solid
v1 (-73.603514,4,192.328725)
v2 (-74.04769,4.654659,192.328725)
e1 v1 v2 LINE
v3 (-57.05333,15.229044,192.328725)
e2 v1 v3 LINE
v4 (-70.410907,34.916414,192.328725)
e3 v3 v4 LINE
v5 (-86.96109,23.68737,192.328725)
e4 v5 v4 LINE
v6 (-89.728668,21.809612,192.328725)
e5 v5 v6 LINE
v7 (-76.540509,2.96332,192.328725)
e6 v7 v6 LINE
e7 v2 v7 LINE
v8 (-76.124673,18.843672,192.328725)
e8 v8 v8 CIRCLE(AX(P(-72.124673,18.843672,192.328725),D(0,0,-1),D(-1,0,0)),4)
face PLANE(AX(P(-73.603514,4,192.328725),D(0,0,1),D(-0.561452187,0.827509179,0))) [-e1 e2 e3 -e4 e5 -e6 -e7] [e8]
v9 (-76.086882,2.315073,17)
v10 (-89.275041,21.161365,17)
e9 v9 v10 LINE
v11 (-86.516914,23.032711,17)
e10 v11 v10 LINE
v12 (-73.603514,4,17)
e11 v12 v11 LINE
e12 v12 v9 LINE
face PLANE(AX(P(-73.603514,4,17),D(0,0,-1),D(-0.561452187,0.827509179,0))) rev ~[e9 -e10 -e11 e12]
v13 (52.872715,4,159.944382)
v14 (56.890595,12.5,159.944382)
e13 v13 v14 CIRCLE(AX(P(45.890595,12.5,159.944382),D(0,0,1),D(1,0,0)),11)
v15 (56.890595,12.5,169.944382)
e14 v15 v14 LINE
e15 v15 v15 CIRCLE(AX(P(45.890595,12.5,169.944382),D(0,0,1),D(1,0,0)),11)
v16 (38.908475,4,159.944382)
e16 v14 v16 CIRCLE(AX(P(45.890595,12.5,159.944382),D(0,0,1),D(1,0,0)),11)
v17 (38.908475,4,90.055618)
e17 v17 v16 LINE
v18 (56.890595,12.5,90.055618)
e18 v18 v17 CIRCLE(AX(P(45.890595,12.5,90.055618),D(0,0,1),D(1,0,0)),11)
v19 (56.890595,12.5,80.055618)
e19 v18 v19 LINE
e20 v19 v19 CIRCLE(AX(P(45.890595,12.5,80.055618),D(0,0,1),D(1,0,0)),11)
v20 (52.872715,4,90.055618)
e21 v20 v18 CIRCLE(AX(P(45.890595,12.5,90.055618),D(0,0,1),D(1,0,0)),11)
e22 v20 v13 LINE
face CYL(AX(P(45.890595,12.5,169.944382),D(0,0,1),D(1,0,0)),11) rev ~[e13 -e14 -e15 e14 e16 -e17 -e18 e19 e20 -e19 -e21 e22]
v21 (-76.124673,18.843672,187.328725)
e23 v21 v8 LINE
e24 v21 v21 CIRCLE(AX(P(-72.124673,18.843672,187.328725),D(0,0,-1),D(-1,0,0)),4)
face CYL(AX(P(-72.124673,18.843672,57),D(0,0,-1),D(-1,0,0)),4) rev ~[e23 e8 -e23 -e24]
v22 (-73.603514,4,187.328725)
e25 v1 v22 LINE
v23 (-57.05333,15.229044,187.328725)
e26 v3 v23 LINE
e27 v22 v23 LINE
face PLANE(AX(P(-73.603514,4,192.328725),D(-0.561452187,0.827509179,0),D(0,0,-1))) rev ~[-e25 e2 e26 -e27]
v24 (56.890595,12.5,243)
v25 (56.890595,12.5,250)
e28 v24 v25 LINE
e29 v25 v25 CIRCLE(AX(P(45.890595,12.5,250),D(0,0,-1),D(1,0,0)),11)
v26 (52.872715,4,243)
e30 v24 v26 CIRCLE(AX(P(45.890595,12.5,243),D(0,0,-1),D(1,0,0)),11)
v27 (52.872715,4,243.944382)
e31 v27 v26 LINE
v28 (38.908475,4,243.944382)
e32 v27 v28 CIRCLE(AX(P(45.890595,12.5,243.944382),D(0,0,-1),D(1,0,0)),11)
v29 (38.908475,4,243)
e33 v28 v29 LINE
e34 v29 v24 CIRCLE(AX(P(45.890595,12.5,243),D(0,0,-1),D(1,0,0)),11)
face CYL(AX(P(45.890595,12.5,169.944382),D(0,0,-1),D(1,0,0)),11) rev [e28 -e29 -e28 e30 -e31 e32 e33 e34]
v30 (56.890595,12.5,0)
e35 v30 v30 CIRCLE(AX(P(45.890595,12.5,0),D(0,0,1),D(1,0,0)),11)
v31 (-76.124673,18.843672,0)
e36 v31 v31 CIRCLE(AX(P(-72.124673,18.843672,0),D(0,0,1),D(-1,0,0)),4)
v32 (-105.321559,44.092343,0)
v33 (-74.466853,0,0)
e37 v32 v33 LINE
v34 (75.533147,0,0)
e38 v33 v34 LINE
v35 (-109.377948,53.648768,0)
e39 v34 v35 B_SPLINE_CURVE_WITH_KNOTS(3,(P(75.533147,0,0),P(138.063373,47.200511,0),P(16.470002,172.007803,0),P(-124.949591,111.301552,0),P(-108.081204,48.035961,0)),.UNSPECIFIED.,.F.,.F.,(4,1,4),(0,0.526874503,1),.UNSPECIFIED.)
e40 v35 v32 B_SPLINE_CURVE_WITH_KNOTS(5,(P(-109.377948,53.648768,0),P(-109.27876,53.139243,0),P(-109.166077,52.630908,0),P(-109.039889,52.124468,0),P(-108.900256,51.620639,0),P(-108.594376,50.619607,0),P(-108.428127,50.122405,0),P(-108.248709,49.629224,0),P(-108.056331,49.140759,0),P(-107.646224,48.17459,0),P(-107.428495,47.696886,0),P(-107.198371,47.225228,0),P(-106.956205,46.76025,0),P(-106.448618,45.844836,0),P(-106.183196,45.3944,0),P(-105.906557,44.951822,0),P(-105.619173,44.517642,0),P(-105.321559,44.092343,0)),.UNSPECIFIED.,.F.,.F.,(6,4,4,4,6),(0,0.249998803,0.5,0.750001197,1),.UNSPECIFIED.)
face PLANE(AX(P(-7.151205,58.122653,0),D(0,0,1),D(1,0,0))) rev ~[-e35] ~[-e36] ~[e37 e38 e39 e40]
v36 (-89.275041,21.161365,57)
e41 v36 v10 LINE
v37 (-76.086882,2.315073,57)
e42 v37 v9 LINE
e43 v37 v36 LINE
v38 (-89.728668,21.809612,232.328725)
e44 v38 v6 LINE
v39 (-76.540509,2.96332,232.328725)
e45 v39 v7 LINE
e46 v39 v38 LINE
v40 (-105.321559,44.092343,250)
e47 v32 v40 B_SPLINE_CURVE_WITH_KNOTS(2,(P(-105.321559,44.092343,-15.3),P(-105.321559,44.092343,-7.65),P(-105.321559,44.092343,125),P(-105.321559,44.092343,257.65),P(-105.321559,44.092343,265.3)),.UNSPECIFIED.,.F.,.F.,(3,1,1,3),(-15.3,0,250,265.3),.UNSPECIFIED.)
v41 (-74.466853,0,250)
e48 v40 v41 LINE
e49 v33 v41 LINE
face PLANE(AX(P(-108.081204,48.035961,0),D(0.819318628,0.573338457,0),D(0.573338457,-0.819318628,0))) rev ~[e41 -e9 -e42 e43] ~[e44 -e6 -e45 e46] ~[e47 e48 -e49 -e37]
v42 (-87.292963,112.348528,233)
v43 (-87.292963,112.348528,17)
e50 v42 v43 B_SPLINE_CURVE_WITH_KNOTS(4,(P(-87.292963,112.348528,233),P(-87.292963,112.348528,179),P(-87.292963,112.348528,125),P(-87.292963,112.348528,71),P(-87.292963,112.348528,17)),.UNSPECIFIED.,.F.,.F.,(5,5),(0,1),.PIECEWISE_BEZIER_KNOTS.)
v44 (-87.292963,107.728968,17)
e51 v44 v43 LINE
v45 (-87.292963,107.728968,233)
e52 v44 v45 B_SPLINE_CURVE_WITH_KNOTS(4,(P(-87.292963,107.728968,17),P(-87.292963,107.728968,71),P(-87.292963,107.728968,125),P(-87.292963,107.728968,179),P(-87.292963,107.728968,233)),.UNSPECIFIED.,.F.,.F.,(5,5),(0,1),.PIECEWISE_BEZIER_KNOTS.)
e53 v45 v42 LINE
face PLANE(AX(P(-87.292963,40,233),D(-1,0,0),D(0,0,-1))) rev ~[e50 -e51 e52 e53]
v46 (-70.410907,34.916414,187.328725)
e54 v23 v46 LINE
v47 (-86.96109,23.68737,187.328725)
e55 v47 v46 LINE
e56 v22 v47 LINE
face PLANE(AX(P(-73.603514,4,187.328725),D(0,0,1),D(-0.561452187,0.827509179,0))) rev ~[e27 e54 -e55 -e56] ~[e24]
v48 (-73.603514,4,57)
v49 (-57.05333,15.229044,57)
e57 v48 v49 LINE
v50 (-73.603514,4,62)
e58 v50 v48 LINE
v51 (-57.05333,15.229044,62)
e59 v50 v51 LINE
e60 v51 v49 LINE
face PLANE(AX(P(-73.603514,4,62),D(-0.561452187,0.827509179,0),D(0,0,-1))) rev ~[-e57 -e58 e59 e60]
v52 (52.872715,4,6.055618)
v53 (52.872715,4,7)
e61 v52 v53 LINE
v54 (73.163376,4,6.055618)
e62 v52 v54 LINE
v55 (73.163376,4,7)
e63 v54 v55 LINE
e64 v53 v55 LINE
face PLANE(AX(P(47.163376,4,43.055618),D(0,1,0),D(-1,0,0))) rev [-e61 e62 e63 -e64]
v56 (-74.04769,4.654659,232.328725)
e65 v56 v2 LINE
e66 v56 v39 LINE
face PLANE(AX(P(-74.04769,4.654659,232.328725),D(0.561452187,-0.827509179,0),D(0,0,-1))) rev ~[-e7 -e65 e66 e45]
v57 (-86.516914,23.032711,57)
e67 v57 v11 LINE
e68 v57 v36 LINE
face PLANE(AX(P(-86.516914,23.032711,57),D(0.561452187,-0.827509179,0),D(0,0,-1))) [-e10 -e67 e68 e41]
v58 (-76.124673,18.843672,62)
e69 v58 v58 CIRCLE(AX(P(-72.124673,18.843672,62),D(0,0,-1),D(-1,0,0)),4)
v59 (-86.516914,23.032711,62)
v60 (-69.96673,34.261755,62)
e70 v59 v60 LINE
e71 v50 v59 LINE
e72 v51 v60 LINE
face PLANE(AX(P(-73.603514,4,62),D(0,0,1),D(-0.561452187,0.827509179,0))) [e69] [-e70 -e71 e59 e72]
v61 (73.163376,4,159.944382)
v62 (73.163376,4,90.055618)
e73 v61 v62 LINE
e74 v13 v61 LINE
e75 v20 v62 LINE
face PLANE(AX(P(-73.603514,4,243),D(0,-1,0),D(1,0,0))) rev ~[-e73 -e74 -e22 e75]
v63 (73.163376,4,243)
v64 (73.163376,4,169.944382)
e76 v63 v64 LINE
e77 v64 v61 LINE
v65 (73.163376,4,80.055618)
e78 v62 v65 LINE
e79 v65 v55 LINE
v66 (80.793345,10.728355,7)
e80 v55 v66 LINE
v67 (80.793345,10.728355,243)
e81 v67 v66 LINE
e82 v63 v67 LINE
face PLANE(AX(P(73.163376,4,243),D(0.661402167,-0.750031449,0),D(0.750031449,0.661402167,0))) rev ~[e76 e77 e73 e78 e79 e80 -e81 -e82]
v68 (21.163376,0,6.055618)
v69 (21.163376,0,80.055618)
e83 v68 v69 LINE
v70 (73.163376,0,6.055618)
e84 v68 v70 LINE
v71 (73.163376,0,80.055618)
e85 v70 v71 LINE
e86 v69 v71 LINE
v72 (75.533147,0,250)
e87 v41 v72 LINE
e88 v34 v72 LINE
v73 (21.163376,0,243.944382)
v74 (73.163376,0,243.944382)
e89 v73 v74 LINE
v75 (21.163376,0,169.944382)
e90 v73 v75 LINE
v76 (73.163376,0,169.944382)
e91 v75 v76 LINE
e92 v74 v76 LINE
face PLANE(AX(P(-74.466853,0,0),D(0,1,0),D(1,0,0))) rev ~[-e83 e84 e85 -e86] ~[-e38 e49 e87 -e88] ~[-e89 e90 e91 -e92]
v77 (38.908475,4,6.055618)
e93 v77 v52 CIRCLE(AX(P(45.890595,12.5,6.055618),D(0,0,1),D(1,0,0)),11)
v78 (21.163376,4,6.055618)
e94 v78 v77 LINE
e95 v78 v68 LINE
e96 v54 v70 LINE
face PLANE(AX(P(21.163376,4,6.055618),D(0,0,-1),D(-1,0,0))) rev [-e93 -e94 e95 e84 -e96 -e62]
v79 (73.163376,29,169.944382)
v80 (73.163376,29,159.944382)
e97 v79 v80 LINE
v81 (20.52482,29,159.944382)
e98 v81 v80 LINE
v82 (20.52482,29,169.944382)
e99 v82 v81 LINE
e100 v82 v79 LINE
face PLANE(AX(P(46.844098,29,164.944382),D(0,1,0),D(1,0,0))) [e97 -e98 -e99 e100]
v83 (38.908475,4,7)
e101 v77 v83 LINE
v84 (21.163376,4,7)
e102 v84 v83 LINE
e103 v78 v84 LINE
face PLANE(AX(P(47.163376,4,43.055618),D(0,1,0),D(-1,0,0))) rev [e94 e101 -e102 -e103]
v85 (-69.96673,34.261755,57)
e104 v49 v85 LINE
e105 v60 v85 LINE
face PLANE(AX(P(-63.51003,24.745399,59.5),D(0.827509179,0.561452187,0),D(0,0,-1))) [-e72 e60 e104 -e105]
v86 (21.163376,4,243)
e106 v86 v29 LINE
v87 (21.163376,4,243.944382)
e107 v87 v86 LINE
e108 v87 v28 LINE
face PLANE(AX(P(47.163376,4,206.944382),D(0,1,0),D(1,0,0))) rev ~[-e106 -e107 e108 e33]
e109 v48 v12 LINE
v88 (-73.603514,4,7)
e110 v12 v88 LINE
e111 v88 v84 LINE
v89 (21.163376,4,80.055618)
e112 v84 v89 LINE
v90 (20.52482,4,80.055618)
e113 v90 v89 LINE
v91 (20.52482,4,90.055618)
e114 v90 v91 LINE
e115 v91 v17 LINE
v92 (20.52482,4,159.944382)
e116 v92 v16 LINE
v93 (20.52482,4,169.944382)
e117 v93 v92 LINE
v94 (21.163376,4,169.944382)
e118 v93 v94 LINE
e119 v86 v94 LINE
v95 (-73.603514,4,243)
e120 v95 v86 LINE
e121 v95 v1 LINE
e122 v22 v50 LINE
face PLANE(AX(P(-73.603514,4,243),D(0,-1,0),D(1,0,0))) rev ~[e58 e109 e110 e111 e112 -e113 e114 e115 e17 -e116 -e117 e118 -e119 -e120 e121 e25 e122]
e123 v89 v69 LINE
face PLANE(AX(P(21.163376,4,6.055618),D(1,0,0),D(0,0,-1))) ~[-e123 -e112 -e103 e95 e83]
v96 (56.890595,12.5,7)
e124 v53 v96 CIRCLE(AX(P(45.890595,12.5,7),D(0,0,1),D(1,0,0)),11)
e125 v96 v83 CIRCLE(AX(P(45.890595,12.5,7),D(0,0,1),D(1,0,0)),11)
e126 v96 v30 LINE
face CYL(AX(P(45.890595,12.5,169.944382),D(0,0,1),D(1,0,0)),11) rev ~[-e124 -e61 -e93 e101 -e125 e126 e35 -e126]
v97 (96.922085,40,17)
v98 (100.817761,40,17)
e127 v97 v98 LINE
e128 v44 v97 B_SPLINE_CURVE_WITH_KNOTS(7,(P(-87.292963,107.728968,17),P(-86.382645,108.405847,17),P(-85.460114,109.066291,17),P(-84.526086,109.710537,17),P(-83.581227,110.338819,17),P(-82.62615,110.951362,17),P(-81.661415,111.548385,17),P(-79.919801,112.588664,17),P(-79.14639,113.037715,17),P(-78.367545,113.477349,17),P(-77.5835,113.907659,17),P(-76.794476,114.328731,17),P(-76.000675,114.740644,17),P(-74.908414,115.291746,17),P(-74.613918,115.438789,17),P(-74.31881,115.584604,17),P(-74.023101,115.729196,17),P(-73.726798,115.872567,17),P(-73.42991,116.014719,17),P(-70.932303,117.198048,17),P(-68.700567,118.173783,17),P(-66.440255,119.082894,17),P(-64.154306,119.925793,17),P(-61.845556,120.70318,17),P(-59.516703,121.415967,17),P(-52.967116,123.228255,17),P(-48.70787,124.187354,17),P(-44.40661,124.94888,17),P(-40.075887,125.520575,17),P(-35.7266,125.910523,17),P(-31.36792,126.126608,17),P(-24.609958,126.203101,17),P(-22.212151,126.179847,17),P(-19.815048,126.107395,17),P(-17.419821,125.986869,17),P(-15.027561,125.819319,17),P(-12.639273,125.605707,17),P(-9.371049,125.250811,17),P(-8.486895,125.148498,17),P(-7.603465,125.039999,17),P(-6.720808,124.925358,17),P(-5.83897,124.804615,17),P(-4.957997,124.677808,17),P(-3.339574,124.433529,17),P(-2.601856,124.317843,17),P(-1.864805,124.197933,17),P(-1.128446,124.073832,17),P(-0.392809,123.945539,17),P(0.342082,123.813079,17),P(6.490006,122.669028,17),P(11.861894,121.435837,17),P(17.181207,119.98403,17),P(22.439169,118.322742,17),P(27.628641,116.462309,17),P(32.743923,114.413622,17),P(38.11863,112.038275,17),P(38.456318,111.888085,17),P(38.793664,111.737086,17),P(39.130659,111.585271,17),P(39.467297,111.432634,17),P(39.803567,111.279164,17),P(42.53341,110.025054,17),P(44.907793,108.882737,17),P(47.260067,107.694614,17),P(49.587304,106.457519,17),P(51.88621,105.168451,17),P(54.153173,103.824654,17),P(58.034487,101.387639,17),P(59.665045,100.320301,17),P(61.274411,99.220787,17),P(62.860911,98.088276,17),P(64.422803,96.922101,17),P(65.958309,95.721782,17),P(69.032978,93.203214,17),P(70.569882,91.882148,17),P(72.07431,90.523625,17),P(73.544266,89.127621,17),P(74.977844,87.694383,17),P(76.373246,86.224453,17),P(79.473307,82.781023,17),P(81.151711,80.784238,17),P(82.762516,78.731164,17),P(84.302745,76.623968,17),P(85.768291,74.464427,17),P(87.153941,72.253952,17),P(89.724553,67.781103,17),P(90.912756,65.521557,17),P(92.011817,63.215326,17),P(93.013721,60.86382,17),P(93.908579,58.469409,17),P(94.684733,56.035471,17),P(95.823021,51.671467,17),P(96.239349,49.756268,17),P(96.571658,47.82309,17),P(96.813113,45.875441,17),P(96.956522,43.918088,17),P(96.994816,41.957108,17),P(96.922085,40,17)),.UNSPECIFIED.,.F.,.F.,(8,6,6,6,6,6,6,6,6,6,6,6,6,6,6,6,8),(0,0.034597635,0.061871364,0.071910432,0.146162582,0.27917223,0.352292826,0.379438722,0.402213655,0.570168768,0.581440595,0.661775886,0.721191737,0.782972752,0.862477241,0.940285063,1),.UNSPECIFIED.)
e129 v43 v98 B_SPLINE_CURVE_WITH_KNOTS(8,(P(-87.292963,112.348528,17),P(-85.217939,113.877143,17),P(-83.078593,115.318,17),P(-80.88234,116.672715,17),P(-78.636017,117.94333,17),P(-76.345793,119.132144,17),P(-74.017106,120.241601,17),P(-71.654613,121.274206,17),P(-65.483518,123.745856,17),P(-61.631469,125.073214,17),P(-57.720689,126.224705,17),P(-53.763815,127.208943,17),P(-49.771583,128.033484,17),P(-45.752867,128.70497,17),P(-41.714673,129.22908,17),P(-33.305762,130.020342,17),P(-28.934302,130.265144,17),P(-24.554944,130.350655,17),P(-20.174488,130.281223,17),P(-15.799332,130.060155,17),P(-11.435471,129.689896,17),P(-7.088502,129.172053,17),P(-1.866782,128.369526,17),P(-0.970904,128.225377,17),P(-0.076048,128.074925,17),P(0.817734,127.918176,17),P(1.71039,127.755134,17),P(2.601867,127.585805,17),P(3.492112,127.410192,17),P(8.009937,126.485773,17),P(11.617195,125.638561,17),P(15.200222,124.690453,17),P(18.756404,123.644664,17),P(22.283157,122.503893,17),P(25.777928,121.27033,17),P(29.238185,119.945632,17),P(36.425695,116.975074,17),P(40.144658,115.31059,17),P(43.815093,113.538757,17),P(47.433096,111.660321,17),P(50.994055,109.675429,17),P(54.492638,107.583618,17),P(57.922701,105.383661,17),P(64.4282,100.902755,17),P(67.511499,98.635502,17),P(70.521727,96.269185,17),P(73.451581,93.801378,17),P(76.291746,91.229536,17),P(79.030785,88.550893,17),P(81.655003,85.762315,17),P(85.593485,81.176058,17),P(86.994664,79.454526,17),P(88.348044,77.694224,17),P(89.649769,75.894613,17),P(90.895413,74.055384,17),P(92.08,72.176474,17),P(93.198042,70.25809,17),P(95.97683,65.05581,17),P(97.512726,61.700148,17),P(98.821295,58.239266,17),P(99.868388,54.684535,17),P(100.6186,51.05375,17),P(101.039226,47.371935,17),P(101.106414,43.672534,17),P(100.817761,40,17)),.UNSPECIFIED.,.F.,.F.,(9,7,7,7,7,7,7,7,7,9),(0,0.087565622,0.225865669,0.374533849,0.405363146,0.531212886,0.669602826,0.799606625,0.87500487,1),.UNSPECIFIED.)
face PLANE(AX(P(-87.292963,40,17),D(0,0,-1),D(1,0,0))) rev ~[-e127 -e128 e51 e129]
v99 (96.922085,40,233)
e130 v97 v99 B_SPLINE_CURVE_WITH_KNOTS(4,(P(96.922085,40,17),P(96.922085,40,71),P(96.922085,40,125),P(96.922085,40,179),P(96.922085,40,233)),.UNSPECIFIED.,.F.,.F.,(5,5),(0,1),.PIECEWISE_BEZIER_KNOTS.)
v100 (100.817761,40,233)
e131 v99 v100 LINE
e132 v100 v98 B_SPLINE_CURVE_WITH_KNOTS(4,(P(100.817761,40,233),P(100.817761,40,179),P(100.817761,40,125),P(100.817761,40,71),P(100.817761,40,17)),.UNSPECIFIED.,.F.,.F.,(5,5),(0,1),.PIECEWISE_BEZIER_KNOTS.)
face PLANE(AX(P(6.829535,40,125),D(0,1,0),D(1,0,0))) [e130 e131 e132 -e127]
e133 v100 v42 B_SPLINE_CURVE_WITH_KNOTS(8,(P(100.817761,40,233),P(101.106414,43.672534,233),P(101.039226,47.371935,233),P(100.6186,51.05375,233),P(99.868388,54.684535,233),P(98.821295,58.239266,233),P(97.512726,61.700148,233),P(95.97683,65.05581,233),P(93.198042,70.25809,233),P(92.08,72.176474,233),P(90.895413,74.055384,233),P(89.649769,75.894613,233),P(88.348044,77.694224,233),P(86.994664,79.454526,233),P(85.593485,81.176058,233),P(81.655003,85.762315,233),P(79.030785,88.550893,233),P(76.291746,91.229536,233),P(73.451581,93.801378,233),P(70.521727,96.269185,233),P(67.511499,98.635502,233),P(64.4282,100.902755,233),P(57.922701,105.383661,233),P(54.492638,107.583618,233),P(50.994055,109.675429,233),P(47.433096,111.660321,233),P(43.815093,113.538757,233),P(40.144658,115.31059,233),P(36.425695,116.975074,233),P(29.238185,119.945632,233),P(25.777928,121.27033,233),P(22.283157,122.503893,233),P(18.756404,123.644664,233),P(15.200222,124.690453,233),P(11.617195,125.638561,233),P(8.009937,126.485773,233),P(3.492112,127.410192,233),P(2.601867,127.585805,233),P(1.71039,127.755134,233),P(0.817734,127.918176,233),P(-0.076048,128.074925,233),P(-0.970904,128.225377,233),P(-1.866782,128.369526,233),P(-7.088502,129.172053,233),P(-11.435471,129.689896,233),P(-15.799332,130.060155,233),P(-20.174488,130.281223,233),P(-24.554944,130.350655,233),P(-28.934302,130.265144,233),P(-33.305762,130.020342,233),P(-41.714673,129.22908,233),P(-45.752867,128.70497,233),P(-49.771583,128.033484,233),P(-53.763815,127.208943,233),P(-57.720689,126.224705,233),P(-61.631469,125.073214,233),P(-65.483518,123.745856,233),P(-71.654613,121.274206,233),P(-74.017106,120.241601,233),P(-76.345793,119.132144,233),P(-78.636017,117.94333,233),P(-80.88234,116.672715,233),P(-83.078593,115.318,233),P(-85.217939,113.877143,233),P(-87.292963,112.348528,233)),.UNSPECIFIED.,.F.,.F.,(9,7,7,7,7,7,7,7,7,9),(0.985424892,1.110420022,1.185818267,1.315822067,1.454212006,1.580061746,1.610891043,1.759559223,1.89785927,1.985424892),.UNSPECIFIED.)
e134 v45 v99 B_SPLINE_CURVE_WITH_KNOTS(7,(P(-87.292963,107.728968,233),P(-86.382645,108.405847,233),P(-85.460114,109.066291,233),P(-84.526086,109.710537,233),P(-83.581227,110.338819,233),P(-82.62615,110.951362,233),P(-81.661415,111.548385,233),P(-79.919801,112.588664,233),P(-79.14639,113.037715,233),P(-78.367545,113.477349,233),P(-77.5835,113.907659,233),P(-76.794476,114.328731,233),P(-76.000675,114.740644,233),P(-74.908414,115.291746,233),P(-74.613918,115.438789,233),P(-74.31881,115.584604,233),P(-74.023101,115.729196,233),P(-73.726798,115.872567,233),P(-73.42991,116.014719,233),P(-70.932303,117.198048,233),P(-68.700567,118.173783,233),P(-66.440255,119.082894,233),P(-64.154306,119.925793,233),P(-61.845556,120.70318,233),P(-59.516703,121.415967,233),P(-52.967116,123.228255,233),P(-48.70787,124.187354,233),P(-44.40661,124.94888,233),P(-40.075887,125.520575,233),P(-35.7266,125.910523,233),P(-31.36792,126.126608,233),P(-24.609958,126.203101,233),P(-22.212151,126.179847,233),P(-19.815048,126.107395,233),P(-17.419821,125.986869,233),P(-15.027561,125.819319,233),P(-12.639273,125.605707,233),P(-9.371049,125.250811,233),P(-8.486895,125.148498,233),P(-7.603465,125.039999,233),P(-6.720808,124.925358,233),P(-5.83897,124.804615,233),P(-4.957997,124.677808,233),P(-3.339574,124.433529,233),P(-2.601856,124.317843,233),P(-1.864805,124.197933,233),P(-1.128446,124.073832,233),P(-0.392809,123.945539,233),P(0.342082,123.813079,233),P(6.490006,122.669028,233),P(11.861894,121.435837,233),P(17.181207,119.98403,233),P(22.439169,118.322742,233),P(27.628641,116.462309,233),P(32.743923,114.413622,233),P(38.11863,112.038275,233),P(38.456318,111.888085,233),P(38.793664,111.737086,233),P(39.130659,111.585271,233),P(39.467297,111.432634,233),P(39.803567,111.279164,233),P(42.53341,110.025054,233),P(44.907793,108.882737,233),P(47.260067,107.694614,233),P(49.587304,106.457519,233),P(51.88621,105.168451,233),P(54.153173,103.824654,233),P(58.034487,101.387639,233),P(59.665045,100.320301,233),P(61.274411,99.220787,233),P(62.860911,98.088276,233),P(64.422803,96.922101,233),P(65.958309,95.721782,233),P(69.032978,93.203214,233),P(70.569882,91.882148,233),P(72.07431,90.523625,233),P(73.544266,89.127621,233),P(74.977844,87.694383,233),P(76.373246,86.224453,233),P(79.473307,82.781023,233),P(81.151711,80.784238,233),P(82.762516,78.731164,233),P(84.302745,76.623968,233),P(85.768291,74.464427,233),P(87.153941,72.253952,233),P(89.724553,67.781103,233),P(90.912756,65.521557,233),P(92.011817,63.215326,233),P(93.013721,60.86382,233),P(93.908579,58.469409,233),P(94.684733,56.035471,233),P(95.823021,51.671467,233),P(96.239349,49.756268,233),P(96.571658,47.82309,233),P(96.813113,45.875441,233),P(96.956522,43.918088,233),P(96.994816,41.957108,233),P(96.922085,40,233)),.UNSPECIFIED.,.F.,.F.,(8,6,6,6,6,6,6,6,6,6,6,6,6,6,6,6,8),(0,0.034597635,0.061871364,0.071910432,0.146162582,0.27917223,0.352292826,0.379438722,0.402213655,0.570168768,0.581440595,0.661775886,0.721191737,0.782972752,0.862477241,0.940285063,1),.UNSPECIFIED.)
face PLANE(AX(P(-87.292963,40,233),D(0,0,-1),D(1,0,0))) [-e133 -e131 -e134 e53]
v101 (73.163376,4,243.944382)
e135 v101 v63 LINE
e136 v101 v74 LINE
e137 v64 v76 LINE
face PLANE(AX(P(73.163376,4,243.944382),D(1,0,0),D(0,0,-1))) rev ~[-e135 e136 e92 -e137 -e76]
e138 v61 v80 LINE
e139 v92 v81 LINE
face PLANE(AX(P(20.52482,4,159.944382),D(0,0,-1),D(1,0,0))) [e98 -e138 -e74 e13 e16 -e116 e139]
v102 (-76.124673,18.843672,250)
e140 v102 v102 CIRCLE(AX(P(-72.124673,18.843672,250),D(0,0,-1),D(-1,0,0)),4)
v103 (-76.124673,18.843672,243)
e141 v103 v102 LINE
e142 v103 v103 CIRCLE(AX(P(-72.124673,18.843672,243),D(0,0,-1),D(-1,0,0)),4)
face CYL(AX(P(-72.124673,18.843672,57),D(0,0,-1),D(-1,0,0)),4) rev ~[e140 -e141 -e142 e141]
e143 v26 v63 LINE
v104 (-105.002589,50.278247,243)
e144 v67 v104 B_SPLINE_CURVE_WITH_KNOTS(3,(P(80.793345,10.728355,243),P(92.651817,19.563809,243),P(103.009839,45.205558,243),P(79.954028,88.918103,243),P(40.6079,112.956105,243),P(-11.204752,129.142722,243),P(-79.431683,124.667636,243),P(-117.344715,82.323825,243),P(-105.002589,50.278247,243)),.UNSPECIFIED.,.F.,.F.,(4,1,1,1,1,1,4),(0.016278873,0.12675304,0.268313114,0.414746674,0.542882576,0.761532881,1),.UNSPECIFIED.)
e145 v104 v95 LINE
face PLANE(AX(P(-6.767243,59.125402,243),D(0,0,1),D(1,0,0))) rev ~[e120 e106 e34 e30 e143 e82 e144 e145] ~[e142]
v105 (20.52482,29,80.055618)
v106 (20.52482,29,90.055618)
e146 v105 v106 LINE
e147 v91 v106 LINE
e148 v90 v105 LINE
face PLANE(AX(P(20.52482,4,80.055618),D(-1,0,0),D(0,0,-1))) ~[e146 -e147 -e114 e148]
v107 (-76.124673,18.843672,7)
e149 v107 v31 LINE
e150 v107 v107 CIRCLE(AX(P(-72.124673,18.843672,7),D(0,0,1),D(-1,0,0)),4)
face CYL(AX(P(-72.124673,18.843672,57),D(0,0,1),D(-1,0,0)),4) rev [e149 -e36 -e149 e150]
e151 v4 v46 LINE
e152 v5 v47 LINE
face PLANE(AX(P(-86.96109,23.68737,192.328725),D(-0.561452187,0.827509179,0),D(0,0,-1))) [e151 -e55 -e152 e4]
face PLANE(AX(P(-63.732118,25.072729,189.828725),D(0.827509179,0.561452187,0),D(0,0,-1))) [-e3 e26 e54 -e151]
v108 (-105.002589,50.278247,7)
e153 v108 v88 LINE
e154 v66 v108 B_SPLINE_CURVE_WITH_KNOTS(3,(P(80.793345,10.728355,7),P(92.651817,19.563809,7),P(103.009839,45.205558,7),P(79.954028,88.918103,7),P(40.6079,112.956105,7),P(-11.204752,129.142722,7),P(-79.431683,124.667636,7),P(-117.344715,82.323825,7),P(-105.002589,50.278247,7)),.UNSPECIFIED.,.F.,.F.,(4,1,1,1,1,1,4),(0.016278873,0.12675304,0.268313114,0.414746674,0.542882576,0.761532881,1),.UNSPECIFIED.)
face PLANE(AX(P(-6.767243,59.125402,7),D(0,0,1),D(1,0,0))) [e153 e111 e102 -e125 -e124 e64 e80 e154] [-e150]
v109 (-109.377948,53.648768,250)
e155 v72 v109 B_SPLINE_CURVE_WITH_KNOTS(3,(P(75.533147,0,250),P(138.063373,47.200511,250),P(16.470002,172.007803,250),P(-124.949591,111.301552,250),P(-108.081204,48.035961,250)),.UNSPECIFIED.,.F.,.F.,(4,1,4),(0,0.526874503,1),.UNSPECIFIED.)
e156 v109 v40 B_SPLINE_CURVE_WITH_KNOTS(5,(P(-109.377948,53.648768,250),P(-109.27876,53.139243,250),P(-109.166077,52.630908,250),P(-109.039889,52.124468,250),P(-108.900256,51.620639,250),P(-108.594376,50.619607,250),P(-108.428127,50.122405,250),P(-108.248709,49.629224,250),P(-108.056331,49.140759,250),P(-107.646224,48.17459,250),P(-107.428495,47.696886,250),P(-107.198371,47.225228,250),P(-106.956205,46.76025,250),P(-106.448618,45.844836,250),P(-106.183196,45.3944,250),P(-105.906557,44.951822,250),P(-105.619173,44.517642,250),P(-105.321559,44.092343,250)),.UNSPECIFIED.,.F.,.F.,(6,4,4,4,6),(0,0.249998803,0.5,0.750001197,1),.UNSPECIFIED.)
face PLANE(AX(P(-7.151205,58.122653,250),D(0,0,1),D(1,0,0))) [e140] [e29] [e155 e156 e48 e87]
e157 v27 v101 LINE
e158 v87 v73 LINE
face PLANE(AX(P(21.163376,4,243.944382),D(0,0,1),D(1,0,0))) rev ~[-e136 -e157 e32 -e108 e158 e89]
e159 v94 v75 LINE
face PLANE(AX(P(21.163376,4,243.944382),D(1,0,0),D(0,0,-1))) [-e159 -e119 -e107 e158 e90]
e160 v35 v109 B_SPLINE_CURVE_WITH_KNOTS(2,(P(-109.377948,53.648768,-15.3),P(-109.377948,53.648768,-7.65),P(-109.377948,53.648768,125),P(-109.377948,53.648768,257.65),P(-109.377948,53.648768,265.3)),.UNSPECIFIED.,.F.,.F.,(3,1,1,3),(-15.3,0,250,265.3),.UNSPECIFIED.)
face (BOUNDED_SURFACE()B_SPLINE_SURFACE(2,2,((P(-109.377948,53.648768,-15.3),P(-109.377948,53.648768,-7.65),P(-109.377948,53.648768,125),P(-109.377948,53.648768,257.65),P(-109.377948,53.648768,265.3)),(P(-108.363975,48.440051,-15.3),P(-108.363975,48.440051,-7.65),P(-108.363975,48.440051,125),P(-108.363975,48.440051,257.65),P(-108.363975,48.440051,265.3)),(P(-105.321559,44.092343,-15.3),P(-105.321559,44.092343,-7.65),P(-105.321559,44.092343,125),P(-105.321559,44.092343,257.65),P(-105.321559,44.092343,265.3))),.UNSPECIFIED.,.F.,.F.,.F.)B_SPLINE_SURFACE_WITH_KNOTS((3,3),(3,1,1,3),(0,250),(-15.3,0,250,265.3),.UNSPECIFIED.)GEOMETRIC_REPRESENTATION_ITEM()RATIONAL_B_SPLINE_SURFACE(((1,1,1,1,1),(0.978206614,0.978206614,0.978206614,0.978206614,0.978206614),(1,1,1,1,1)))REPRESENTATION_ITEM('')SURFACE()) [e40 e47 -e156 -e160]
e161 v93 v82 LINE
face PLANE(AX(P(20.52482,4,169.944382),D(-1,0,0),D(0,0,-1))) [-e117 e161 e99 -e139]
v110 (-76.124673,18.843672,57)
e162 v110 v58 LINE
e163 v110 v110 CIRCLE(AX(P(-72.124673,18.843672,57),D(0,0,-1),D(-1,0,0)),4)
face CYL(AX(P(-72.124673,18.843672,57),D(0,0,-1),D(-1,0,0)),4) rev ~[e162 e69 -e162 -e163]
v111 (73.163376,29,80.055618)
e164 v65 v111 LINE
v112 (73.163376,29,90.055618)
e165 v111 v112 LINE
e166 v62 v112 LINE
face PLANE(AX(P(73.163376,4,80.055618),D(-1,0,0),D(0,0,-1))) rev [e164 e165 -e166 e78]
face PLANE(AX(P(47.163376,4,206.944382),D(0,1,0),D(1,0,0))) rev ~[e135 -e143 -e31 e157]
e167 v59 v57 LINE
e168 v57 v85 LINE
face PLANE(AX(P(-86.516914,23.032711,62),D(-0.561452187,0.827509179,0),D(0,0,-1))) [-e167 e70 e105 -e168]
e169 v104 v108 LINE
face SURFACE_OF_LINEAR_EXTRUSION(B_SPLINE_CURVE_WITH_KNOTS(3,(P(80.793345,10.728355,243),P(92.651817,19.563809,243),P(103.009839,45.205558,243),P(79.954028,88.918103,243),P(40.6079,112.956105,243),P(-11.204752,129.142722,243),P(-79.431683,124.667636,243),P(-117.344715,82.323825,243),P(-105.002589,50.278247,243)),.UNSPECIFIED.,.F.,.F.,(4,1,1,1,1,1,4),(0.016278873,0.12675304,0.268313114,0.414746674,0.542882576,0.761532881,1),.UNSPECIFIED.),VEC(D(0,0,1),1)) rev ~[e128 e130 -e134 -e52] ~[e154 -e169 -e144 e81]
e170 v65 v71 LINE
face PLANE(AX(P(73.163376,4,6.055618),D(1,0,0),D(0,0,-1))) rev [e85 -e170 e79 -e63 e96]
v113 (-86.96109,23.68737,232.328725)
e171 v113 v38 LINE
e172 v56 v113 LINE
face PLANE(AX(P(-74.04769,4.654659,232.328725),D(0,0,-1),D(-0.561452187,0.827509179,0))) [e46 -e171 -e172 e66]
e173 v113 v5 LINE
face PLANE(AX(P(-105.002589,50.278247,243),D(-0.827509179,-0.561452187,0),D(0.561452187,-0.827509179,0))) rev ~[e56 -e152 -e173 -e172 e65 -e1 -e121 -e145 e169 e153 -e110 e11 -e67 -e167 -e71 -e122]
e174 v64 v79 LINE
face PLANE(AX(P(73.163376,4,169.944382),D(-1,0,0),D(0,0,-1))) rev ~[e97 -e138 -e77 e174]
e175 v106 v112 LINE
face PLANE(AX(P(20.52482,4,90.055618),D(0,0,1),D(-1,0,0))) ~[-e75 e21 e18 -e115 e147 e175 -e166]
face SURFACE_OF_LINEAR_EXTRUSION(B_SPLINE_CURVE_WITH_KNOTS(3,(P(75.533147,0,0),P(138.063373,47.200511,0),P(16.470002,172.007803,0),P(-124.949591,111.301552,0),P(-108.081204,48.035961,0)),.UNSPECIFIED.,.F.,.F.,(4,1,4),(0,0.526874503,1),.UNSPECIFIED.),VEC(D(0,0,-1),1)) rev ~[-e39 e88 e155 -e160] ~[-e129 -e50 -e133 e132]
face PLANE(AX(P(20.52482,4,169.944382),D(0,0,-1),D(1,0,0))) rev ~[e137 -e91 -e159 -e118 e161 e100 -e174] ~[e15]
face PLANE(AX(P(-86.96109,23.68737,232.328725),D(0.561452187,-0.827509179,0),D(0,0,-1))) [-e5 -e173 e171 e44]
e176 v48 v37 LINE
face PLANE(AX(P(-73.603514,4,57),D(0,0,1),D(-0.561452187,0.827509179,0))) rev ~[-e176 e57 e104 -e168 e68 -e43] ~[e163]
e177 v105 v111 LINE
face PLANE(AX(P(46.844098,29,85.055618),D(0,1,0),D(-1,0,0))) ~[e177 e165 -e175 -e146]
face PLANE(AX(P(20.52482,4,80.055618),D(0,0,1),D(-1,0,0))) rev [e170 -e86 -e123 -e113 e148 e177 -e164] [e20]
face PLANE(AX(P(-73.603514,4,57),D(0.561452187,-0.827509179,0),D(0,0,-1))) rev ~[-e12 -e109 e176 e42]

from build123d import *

# Parameters (mm, degrees)
BOSS_EXTRUDE1_DEPTH      = 250
CUT_EXTRUDE1_START       = -7
CUT_EXTRUDE1_DEPTH       = 236
CUT_EXTRUDE2_START       = 40
SKETCH3_W                = 188.244995532
SKETCH3_H                = 216
CUT_EXTRUDE2_DEPTH       = 236
FILLET1_R                = 25
SKETCH16_W               = 40
SKETCH16_H               = 23
CUT_EXTRUDE11_DEPTH      = 170
SKETCH17_W               = 5
SKETCH17_H               = 23.791120356
SKETCH17_H_2             = 23
BOSS_EXTRUDE5_DEPTH      = 20
SKETCH18_R               = 4
CUT_EXTRUDE12_DEPTH      = 58.0000001
CUT_EXTRUDE12_DEPTH_BACK = 194.0000001
SKETCH21_W               = 52
SKETCH21_H               = 74
CUT_EXTRUDE13_DEPTH      = 10
SKETCH22_W               = 52.638555516
SKETCH22_H               = 10
BOSS_EXTRUDE6_DEPTH      = 25
SKETCH24_R               = 11
CUT_EXTRUDE14_DEPTH      = 81.055617737
CUT_EXTRUDE14_DEPTH_BACK = 170.944382463


with BuildPart() as part:
    # Sketch1 → Boss-Extrude1 (new body)
    with BuildSketch(Plane.XY):
        with BuildLine():
            Line((-74.466852712, 0), (75.533147288, 0))
            add(Edge.make_bspline(
                [(75.533147288, 0), (138.063372934, 47.200510513), (16.470001542, 172.007803308), (-124.949591118, 111.301552399), (-108.081203548, 48.03596108)],
                knots=[0, 0, 0, 0, 0.526874503, 1, 1, 1, 1], degree=3))
            Line((-108.081203548, 48.03596108), (-74.466852712, 0))
        make_face()
    extrude(amount=BOSS_EXTRUDE1_DEPTH)

    # Sketch2 → Cut-Extrude1 (cut)
    with BuildSketch(Plane.XY.offset(250).offset(CUT_EXTRUDE1_START)):
        with BuildLine():
            Line((-105.002588912, 50.278247003), (-73.603513663, 4))
            Line((-73.603513663, 4), (73.163375947, 4))
            Line((73.163375947, 4), (80.793344513, 10.72835486))
            add(Edge.make_bspline(
                [(80.793344513, 10.72835486), (92.651817418, 19.563808902), (103.009839439, 45.205558115), (79.954027593, 88.91810325), (40.607899873, 112.95610518), (-11.204752472, 129.142722192), (-79.431682825, 124.667635826), (-117.344714605, 82.323825457), (-105.002588912, 50.278247003)],
                knots=[0.016278873, 0.016278873, 0.016278873, 0.016278873, 0.12675304, 0.268313114, 0.414746674, 0.542882576, 0.761532881, 1, 1, 1, 1], degree=3))
        make_face()
    extrude(amount=-CUT_EXTRUDE1_DEPTH, mode=Mode.SUBTRACT)

    # Sketch3 → Cut-Extrude2 (cut)
    with BuildSketch(Plane(origin=(0, 0, 0), x_dir=(1, 0, 0), z_dir=(0, 1, 0)).offset(CUT_EXTRUDE2_START)):
        with Locations((6.82953452, -125)):
            Rectangle(SKETCH3_W, SKETCH3_H)
    extrude(amount=CUT_EXTRUDE2_DEPTH, mode=Mode.SUBTRACT)

    # Fillet1
    fillet1_edges = [part.edges().sort_by_distance(p)[0] for p in [
        (-108.081203548, 48.03596108, 125),
    ]]
    fillet(fillet1_edges, radius=FILLET1_R)

    # Sketch16 → Cut-Extrude11 (cut)
    with BuildSketch(Plane(origin=(-48.543156815, -32.935781547, 0), x_dir=(0, 0, -1), z_dir=(0.827509179, 0.561452187, 0))):
        with Locations((-212.328725108, 56.926010788)):
            Rectangle(SKETCH16_W, SKETCH16_H)
        with Locations((-37, 56.134890432)):
            Rectangle(SKETCH16_W, SKETCH16_H)
    extrude(amount=-CUT_EXTRUDE11_DEPTH, mode=Mode.SUBTRACT)

    # Sketch17 → Boss-Extrude5 (add)
    with BuildSketch(Plane(origin=(-48.543156815, -32.935781547, 0), x_dir=(0, 0, -1), z_dir=(0.827509179, 0.561452187, 0))):
        with Locations((-189.828725108, 56.53045061)):
            Rectangle(SKETCH17_W, SKETCH17_H)
        with Locations((-59.5, 56.134890432)):
            Rectangle(SKETCH17_W, SKETCH17_H_2)
    extrude(amount=BOSS_EXTRUDE5_DEPTH)

    # Sketch18 → Cut-Extrude12 (cut, two sides)
    with BuildSketch(Plane(origin=(0, 0, 57), x_dir=(-1, 0, 0), z_dir=(0, 0, -1))) as cut_extrude12_sk:
        with Locations((72.12467311, 18.843671615)):
            Circle(SKETCH18_R)
    extrude(amount=CUT_EXTRUDE12_DEPTH, mode=Mode.SUBTRACT)
    extrude(cut_extrude12_sk.sketch, amount=-CUT_EXTRUDE12_DEPTH_BACK, mode=Mode.SUBTRACT)

    # Sketch21 → Cut-Extrude13 (cut)
    with BuildSketch(Plane(origin=(0, 4, 0), x_dir=(1, 0, 0), z_dir=(0, 1, 0))):
        with Locations((47.163375947, -206.944382363)):
            Rectangle(SKETCH21_W, SKETCH21_H)
    cut_extrude13 = extrude(amount=-CUT_EXTRUDE13_DEPTH, mode=Mode.SUBTRACT)

    # Sketch22 → Boss-Extrude6 (add)
    with BuildSketch(Plane(origin=(0, 4, 0), x_dir=(1, 0, 0), z_dir=(0, 1, 0))):
        with Locations((46.844098189, -164.944382363)):
            Rectangle(SKETCH22_W, SKETCH22_H)
    boss_extrude6 = extrude(amount=BOSS_EXTRUDE6_DEPTH)

    # Mirror2: Cut-Extrude13, Boss-Extrude6 across plane
    add(cut_extrude13.mirror(Plane.XY.offset(125)), mode=Mode.SUBTRACT)
    add(boss_extrude6.mirror(Plane.XY.offset(125)))

    # Sketch24 → Cut-Extrude14 (cut, two sides)
    with BuildSketch(Plane.XY.offset(169.944382363)) as cut_extrude14_sk:
        with Locations((45.890595185, 12.5)):
            Circle(SKETCH24_R)
    extrude(amount=CUT_EXTRUDE14_DEPTH, mode=Mode.SUBTRACT)
    extrude(cut_extrude14_sk.sketch, amount=-CUT_EXTRUDE14_DEPTH_BACK, mode=Mode.SUBTRACT)


solid = part.part
